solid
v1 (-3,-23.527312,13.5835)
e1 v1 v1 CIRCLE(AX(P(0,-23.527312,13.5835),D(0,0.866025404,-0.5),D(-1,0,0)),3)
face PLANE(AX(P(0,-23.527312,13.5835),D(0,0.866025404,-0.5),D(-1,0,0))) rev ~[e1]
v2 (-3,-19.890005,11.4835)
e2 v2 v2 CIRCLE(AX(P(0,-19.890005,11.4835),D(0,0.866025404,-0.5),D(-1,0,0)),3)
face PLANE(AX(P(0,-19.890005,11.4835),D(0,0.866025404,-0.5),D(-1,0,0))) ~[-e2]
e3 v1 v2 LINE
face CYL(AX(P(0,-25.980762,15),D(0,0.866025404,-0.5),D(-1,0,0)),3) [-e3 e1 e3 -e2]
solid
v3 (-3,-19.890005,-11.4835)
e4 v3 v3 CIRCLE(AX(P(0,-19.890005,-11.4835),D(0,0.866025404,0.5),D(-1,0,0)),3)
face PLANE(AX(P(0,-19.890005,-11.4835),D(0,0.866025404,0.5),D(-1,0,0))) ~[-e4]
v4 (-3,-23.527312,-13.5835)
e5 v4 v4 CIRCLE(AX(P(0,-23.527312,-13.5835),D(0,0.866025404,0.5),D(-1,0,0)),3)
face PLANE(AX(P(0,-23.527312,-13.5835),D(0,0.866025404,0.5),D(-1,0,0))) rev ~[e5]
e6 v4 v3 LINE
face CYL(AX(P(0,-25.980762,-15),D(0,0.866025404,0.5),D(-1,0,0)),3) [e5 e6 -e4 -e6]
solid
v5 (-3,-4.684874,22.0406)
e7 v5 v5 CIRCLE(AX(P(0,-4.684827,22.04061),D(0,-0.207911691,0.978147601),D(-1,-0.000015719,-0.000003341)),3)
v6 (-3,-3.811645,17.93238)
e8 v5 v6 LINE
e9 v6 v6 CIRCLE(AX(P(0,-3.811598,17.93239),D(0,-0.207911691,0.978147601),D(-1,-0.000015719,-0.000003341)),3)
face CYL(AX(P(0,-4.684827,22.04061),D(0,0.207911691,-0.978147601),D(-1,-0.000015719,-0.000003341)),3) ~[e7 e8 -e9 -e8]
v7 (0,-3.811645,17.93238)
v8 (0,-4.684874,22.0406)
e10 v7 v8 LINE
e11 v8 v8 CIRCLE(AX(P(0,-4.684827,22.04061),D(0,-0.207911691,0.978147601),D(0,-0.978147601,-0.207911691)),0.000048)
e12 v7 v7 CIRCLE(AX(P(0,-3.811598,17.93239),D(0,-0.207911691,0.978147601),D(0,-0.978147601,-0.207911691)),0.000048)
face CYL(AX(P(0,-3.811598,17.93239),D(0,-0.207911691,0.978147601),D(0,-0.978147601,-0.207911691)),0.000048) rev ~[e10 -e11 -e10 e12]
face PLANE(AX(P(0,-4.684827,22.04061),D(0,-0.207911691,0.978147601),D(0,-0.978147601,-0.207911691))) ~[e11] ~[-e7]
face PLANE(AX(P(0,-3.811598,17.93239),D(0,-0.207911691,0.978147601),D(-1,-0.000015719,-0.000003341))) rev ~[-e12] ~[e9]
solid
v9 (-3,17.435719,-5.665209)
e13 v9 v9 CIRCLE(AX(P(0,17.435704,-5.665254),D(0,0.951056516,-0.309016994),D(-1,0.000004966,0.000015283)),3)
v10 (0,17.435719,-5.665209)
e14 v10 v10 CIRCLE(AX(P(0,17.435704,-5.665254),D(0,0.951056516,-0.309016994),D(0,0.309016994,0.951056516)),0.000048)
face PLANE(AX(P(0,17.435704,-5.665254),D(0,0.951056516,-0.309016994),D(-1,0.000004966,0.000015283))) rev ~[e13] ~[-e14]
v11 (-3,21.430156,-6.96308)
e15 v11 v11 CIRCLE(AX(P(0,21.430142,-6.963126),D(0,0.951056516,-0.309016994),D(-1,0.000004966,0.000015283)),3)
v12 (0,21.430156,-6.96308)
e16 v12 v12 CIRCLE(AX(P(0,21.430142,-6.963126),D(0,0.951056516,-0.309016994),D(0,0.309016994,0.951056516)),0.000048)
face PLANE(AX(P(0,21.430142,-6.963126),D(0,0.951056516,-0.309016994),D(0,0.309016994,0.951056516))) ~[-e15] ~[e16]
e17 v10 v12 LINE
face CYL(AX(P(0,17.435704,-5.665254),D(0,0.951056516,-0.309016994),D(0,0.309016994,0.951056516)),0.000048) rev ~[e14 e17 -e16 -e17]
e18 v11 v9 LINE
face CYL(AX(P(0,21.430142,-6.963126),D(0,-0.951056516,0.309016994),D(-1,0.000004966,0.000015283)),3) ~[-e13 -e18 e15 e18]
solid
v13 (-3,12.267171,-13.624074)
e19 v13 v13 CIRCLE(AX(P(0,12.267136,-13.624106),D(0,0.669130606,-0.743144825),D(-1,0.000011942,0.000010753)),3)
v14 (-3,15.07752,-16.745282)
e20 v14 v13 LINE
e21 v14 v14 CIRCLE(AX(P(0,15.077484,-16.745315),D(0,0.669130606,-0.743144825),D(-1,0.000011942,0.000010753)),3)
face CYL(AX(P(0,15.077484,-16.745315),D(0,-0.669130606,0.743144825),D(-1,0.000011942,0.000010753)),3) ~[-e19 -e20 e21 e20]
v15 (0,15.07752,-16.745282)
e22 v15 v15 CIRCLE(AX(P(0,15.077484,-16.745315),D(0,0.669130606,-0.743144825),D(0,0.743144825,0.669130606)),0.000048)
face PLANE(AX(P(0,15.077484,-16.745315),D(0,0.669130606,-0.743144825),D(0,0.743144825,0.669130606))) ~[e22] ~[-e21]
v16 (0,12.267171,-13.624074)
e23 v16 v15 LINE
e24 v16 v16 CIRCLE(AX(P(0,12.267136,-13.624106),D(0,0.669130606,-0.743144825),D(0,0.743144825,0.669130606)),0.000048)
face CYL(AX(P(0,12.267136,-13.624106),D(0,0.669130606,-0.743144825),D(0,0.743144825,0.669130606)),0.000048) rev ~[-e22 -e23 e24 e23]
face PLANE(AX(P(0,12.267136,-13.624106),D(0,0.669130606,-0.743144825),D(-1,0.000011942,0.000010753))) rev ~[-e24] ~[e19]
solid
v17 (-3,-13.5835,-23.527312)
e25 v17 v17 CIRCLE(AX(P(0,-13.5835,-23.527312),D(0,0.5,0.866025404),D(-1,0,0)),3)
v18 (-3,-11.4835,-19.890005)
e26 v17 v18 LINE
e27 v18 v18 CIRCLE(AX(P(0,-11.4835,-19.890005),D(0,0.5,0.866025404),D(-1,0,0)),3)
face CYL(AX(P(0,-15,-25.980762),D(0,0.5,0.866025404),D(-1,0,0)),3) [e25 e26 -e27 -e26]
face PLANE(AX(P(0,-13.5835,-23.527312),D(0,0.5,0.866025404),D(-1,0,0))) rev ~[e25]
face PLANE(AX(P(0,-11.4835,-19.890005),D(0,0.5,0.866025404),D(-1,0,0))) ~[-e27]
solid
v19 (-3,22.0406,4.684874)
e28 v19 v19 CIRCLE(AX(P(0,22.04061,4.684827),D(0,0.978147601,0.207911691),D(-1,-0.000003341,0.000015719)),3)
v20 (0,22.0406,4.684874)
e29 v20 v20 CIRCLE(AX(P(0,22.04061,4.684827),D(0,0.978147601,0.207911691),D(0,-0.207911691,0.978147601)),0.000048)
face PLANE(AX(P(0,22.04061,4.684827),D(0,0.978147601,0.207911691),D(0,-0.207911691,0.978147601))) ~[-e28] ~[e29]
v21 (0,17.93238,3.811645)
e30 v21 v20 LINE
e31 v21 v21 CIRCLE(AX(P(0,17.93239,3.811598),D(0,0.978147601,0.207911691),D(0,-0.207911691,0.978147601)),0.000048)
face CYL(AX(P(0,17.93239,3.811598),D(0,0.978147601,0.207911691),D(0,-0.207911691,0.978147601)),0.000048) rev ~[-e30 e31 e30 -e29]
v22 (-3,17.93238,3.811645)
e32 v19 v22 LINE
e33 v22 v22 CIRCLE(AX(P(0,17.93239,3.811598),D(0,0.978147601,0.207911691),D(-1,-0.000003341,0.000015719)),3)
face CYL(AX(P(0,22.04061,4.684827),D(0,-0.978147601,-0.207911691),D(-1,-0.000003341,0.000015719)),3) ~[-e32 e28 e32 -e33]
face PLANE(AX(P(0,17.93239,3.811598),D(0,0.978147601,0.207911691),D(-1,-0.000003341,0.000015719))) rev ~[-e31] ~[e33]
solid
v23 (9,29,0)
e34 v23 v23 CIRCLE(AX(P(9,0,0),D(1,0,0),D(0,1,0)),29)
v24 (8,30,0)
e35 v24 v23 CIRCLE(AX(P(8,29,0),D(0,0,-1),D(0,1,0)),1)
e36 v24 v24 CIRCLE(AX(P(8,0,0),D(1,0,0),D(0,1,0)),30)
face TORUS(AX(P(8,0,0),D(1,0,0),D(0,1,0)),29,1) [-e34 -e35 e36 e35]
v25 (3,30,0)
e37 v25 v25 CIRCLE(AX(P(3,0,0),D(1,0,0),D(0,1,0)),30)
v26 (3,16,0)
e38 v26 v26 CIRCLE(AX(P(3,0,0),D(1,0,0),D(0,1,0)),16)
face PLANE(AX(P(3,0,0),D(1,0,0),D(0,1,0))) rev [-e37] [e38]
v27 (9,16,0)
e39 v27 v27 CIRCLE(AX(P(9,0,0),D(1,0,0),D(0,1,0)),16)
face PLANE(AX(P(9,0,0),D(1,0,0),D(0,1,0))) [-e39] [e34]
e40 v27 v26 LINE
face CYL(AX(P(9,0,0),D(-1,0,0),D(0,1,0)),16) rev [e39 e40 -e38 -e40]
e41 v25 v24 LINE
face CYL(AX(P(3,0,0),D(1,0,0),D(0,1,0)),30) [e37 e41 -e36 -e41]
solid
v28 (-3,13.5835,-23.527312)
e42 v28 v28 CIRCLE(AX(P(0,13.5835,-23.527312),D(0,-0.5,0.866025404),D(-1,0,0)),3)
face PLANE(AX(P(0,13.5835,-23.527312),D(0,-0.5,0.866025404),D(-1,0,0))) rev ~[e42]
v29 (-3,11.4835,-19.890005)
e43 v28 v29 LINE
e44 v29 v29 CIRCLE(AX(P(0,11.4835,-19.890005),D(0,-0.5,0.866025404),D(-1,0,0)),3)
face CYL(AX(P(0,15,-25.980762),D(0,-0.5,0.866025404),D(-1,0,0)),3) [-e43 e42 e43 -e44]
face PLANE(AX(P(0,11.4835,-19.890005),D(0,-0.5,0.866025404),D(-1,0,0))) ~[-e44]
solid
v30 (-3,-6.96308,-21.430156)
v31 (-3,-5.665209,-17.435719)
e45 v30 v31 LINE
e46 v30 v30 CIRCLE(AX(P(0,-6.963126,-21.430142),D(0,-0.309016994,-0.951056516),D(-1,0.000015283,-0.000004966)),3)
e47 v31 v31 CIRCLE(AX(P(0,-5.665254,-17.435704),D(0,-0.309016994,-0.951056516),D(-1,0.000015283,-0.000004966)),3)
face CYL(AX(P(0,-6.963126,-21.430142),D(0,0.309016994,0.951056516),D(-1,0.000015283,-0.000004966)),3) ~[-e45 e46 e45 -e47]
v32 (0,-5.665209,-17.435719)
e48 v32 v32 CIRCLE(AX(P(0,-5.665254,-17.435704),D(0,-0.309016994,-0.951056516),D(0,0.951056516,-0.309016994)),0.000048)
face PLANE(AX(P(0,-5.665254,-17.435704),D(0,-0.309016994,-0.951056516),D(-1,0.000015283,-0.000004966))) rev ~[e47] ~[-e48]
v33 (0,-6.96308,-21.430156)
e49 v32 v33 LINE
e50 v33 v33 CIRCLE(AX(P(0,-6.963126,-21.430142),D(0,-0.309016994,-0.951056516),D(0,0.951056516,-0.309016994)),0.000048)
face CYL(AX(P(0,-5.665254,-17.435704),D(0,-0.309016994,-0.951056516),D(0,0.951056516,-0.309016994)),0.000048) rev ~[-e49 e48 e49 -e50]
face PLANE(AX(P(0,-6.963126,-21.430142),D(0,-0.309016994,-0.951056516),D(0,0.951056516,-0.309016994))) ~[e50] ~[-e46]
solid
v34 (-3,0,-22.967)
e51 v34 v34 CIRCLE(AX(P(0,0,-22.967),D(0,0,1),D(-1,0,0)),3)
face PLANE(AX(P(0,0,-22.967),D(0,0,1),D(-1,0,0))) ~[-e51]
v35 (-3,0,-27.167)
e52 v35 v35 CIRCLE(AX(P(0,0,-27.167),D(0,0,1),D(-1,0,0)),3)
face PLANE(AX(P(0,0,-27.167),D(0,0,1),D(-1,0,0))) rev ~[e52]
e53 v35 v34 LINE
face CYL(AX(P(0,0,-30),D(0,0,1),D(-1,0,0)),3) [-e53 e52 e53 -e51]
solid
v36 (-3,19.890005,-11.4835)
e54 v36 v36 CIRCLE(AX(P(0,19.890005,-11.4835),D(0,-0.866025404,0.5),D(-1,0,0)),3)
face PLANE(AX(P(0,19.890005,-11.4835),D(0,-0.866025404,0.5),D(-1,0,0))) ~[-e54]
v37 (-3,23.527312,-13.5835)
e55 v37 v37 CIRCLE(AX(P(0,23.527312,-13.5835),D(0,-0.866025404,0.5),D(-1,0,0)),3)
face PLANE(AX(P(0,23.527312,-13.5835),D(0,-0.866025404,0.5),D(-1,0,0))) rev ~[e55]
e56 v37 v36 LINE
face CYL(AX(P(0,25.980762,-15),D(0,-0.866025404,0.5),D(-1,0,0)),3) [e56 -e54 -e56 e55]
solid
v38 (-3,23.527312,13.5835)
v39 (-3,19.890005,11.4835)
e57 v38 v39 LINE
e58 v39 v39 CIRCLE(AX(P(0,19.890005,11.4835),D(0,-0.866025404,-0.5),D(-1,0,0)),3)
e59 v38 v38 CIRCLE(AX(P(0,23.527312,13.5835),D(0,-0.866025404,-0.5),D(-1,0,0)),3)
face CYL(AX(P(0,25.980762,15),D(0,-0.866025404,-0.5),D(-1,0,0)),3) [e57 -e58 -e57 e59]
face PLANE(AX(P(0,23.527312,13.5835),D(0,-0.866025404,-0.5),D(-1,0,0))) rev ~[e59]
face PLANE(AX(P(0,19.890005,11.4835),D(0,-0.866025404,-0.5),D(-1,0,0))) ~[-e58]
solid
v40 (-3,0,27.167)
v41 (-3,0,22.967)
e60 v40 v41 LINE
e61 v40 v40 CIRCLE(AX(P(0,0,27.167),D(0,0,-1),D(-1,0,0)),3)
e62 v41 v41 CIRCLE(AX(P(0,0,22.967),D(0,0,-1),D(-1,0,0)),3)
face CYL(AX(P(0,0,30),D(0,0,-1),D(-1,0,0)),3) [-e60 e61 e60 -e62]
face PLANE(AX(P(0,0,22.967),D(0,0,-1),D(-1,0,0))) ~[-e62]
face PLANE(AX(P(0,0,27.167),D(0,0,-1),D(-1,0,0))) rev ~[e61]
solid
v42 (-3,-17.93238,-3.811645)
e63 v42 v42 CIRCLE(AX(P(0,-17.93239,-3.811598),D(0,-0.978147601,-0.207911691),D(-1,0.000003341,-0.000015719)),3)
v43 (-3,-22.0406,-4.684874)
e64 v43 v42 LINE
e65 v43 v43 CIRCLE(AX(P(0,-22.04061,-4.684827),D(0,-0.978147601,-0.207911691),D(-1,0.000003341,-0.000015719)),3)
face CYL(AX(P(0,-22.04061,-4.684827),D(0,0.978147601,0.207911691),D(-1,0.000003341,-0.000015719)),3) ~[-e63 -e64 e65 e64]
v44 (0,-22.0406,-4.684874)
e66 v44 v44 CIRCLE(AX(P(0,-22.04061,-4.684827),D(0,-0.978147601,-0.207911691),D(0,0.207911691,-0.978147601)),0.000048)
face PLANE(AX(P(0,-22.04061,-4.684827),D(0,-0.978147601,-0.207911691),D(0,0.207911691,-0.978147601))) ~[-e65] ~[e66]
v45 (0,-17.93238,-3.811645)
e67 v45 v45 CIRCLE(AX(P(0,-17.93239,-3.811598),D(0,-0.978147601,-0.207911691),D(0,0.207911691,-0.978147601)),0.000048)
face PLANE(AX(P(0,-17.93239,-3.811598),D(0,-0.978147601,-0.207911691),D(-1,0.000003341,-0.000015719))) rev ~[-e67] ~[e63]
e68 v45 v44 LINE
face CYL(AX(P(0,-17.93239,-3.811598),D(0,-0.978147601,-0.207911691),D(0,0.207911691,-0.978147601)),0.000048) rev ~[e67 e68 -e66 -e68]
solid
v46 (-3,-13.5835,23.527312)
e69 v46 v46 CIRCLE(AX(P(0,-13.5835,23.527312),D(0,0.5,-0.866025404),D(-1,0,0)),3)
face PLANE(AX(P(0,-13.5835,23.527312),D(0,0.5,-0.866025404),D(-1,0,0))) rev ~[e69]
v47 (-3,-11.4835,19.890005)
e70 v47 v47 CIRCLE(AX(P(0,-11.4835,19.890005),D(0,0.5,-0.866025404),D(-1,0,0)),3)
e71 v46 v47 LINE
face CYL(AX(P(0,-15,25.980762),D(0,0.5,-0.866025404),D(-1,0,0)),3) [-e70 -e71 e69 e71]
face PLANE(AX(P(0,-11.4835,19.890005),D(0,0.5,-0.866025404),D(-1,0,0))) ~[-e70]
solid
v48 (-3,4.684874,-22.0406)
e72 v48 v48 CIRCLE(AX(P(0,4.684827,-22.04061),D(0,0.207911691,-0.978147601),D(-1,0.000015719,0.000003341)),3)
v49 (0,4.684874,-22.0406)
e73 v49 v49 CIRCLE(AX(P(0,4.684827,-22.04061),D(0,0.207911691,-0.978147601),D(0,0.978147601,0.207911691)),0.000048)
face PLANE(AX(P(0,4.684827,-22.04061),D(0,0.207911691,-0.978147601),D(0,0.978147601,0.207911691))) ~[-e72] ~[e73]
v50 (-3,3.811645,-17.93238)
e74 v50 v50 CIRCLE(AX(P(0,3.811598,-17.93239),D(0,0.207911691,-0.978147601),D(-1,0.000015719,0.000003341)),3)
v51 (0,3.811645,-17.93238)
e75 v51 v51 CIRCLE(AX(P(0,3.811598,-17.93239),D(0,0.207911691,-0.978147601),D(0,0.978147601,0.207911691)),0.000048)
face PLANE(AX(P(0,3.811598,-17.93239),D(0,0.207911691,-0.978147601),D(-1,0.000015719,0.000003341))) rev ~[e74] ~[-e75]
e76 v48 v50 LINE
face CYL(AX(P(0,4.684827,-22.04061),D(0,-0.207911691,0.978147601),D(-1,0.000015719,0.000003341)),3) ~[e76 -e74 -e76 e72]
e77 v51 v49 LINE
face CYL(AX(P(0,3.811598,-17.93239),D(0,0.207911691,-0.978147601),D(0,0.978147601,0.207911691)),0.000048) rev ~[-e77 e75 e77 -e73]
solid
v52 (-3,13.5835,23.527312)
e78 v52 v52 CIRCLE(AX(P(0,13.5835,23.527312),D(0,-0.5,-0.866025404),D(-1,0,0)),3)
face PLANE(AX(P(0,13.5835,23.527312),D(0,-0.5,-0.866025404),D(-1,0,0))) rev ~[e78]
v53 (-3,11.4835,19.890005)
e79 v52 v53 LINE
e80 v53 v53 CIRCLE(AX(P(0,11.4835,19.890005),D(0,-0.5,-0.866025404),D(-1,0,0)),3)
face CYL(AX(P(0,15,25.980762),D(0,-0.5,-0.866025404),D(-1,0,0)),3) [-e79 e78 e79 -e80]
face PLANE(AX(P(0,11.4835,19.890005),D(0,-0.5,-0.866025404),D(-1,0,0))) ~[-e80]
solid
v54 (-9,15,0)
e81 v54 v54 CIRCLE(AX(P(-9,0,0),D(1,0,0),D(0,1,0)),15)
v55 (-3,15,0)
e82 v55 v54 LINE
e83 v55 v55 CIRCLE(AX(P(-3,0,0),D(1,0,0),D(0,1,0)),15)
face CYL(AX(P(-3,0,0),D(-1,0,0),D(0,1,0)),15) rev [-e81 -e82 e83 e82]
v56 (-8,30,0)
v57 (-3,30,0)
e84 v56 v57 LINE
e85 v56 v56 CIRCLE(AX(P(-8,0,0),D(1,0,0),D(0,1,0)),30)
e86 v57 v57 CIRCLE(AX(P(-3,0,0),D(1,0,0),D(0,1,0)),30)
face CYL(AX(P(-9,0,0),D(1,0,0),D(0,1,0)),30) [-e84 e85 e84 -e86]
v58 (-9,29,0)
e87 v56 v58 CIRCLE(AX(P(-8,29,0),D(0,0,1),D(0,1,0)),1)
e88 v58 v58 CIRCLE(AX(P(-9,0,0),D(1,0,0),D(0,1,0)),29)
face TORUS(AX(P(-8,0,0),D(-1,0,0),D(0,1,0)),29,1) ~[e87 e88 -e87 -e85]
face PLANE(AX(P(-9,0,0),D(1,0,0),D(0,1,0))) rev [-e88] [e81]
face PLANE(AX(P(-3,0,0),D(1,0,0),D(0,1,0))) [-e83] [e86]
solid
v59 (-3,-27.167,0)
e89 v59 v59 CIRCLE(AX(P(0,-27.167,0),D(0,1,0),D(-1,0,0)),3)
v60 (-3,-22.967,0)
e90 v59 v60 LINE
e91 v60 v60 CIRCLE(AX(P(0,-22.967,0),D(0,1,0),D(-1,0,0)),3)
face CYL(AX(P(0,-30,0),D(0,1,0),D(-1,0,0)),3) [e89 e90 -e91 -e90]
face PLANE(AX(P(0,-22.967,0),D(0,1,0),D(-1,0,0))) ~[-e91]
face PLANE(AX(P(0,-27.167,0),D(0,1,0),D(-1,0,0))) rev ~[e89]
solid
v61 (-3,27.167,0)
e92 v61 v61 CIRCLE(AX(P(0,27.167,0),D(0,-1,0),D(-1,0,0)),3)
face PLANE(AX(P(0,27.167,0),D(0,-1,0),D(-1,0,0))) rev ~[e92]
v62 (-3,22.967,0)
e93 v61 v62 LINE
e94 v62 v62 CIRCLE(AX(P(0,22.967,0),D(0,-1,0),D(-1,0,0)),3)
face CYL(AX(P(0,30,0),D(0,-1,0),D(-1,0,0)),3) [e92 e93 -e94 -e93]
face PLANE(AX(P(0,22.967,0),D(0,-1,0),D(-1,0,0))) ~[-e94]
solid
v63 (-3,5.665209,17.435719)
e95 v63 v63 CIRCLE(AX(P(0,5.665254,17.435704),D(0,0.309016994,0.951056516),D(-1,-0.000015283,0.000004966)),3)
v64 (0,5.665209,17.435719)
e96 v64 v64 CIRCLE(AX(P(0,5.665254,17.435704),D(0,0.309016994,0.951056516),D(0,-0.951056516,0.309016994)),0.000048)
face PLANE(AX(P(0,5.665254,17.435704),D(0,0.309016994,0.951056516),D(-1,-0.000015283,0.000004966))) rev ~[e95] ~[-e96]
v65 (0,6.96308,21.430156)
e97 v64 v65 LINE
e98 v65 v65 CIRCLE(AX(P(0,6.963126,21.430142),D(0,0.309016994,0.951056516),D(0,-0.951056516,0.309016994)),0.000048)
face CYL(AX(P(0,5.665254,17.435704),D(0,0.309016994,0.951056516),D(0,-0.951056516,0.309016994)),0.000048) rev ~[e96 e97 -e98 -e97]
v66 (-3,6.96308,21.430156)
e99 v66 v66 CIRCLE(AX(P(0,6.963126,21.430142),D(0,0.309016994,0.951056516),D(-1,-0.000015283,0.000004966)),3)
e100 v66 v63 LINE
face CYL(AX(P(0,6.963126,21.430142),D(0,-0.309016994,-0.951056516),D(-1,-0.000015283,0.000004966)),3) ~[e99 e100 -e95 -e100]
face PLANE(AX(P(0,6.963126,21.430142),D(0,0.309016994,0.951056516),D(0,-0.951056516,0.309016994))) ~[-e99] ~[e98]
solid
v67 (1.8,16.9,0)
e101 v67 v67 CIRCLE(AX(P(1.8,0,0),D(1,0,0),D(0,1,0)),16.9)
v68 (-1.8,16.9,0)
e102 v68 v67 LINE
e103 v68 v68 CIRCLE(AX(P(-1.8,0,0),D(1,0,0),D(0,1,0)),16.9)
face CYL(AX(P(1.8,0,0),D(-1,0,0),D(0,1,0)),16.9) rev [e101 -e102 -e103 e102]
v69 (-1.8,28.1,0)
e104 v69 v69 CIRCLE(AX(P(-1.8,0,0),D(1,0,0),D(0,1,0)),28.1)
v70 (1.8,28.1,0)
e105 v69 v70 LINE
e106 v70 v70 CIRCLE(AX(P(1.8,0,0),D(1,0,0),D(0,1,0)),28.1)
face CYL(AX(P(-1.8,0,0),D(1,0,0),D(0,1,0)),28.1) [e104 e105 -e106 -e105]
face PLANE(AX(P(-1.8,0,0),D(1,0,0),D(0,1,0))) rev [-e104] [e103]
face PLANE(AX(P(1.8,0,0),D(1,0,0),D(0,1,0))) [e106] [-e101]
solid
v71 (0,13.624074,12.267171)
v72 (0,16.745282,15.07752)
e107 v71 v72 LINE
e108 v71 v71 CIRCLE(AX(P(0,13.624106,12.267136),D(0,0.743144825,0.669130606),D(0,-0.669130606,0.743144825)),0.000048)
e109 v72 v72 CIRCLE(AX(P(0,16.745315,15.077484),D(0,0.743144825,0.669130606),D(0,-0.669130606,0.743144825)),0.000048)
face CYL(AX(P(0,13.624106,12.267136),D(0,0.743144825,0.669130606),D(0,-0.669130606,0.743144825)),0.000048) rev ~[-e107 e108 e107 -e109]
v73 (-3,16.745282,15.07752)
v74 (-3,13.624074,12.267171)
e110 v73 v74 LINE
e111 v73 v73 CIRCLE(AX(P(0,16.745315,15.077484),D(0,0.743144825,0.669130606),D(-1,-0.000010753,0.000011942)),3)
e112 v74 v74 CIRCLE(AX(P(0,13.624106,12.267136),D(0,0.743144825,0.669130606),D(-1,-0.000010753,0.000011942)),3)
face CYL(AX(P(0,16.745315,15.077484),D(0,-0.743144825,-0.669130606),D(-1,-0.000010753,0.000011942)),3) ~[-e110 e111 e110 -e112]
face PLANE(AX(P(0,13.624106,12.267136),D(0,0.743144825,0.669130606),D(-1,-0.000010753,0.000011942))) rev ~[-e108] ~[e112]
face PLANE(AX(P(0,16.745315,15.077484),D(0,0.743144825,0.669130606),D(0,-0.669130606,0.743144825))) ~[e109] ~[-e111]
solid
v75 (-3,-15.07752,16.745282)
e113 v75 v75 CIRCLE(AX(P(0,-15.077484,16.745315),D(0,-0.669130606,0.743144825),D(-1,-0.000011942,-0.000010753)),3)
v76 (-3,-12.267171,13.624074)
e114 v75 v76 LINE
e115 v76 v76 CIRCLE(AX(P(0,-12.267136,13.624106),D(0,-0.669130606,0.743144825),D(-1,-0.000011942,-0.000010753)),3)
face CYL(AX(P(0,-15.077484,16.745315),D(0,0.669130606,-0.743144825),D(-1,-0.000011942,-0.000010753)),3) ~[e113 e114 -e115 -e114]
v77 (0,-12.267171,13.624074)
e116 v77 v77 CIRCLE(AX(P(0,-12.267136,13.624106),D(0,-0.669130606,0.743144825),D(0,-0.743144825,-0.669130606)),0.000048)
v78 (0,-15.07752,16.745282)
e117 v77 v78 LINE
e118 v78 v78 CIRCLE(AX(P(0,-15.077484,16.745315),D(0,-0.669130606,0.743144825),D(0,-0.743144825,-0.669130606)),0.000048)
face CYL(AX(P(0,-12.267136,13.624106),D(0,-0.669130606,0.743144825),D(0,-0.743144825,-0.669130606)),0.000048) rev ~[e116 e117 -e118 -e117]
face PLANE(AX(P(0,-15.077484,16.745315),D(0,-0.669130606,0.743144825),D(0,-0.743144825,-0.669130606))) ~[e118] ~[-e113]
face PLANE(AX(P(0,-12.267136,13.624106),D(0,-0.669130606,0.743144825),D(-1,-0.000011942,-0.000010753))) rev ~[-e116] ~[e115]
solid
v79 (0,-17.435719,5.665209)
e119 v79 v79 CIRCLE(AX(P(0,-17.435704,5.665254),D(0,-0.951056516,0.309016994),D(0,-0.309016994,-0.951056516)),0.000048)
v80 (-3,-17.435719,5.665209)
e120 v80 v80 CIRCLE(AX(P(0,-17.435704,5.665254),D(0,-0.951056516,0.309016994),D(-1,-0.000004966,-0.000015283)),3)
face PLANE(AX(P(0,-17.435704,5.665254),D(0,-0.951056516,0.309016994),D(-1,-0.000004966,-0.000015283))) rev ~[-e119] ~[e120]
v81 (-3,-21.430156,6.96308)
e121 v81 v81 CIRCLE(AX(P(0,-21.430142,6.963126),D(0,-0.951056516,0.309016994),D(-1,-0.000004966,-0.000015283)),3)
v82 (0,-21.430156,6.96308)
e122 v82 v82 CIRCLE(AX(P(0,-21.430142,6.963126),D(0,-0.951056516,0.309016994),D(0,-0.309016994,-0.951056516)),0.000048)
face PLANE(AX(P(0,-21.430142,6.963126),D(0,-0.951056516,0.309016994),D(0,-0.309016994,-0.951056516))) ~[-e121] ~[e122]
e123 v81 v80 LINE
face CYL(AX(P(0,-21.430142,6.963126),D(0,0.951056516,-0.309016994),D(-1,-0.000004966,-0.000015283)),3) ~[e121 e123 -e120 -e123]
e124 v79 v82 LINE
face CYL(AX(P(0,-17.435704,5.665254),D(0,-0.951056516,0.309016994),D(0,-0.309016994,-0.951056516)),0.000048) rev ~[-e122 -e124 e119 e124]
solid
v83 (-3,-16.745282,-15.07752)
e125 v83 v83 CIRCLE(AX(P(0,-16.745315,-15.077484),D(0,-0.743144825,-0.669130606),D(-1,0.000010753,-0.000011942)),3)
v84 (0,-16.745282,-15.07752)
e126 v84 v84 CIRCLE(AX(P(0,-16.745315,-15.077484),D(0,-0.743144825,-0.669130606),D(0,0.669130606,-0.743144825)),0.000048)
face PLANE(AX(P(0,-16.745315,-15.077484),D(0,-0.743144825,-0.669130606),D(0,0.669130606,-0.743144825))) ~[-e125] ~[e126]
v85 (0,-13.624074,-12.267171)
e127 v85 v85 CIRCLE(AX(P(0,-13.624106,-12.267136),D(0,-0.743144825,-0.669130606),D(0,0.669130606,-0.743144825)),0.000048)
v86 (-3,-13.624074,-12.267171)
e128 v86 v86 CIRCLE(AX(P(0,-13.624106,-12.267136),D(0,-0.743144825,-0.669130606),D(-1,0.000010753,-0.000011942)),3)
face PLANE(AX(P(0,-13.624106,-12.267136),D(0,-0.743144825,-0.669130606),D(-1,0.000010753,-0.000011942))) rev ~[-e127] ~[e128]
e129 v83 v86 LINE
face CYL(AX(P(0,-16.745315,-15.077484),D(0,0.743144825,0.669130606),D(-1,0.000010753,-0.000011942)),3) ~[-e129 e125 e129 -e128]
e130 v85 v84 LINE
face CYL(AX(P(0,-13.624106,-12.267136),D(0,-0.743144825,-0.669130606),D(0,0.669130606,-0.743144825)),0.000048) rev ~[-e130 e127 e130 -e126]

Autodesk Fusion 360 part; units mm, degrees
sketch "Sketch1" plane through (0, 0, 0) normal (0, 0, 1) x (1, 0, 0)
  line L0 (-79.6992, 0) -> (79.6992, 0)
  line L1 (-9, 30) -> (-3, 30)
  line L2 (-3, 30) -> (-3, 15)
  line L3 (-3, 15) -> (-9, 15)
  line L4 (-9, 15) -> (-9, 30)
  line L5 (3, 30) -> (9, 30)
  line L6 (9, 30) -> (9, 16)
  line L7 (9, 16) -> (3, 16)
  line L8 (3, 16) -> (3, 30)
  line L9 (-3, 27.167) -> (3, 27.167)
  line L10 (3, 27.167) -> (3, 22.967)
  line L11 (3, 22.967) -> (-3, 22.967)
  line L12 (-3, 22.967) -> (-3, 27.167)
  line L13 (-1.8, 28.1) -> (1.8, 28.1)
  line L14 (1.8, 28.1) -> (1.8, 16.9)
  line L15 (1.8, 16.9) -> (-1.8, 16.9)
  line L16 (-1.8, 16.9) -> (-1.8, 28.1)
  line L17 (0, 28.1) -> (0, 16.9)
  line L18 (-3, 22.5) -> (3, 22.5)
  point P0 (-3, 22.5)
  point P1 (0, 27.167)
  point P2 (-1.8, 22.5)
  dimension "d1" = 18
  dimension "d2" = 32
  dimension "d3" = 30
  dimension "d4" = 60
  dimension "d5" = 60
  dimension "d6" = 3.6
  dimension "d7" = 11.2
  dimension "d9" = 6
  dimension "d18" = 0.467
  dimension "d19" = 4.667
revolve "Revolve1" add sketch "Sketch1" angle 360 about axis through (-79.6992, 0, 0) along (1, 0, 0) contours L1 L2 L3 L4 L12 | L5 L6 L7 L8 L10 makes body 1 at (-3, 24.8883, -1.4904) makes body 2 at (9, 25.1621, -2.2853)
revolve "Revolve2" add sketch "Sketch1" angle 360 about axis through (0, 28.1, 0) along (0, -1, 0) separate body contours L2 L9 L11 L12 L16 | L9 L11 L16 L17 makes body 3
revolve "Revolve3" add sketch "Sketch1" angle 360 about axis through (-79.6992, 0, 0) along (1, 0, 0) separate body contours L9 L13 L16 L17 | L9 L11 L16 L17 | L11 L16 L17 L18 | L9 L13 L14 L17 | L9 L11 L14 L17 | L15 L16 L17 L18 | L11 L14 L17 L18 | L14 L15 L17 L18 makes body 4
pattern_circular "C-Pattern1" count 12 over 360 about axis through (1.75, 0, 0) along (1, 0, 0) of bodies 3 makes body 5 at (-2.9851, 20.9531, 12.4422) makes body 6 at (-2.9851, 11.9248, 21.2518) makes body 7 at (-2.9851, -0.2987, 24.367) makes body 8 at (-2.9851, -12.4422, 20.9531) makes body 9 at (-2.9963, -22.3896, 12.754) makes body 10 at (-2.9851, -24.367, -0.2987) makes body 11 at (-2.9851, -20.9531, -12.4422) makes body 12 at (-2.9963, -12.754, -22.3896) makes body 13 at (-2.9851, 0.2987, -24.367) makes body 14 at (-2.9963, 13.013, -22.2401) makes body 15 at (-2.9851, 21.2518, -11.9248)
fillet "Fillet1" radius 1 2 edges at (-9, -10.8485, 27.9698) (9, -10.8485, 27.9698) on bodies 1 2
ref_plane "WorkPlane1" through (0, 0, 0) normal (0, -0.2079, 0.9781) x (1, 0, 0)
sketch "Sketch2" plane through (0, 0, 0) normal (0, -0.2079, 0.9781) x (1, 0, 0)
  line L0 (-3, 18.333) -> (3, 18.333)
  line L1 (3, 18.333) -> (3, 22.533)
  line L2 (3, 22.533) -> (-3, 22.533)
  line L3 (-3, 22.533) -> (-3, 18.333)
  line L4 (0, 18.333) -> (0, 22.533)
  point P0 (0, 18.333)
  dimension "d20" = 18.333
  dimension "d21" = 4.2
  dimension "d22" = 6
revolve "Revolve4" add sketch "Sketch2" angle 360 about axis through (0, 17.9324, 3.8116) along (0, 0.9781, 0.2079) separate body contours L0 L2 L3 L4 makes body 16
pattern_circular "C-Pattern2" count 12 over 360 about axis through (1.75, 0, 0) along (1, 0, 0) of bodies 16 makes body 17 at (-2.9963, 15.8049, 14.0296) makes body 18 at (-2.9963, 6.2401, 18.721) makes body 19 at (-2.9851, -3.8105, 19.3639) makes body 20 at (-2.9963, -14.0296, 15.8049) makes body 21 at (-2.9851, -20.0064, 6.8145) makes body 22 at (-2.9851, -19.3639, -3.8105) makes body 23 at (-2.9963, -14.7645, -13.0928) makes body 24 at (-2.9851, -6.3819, -18.6749) makes body 25 at (-2.9851, 3.8105, -19.3639) makes body 26 at (-2.9963, 13.0928, -14.7645) makes body 27 at (-2.9963, 20.0525, -6.6727)
